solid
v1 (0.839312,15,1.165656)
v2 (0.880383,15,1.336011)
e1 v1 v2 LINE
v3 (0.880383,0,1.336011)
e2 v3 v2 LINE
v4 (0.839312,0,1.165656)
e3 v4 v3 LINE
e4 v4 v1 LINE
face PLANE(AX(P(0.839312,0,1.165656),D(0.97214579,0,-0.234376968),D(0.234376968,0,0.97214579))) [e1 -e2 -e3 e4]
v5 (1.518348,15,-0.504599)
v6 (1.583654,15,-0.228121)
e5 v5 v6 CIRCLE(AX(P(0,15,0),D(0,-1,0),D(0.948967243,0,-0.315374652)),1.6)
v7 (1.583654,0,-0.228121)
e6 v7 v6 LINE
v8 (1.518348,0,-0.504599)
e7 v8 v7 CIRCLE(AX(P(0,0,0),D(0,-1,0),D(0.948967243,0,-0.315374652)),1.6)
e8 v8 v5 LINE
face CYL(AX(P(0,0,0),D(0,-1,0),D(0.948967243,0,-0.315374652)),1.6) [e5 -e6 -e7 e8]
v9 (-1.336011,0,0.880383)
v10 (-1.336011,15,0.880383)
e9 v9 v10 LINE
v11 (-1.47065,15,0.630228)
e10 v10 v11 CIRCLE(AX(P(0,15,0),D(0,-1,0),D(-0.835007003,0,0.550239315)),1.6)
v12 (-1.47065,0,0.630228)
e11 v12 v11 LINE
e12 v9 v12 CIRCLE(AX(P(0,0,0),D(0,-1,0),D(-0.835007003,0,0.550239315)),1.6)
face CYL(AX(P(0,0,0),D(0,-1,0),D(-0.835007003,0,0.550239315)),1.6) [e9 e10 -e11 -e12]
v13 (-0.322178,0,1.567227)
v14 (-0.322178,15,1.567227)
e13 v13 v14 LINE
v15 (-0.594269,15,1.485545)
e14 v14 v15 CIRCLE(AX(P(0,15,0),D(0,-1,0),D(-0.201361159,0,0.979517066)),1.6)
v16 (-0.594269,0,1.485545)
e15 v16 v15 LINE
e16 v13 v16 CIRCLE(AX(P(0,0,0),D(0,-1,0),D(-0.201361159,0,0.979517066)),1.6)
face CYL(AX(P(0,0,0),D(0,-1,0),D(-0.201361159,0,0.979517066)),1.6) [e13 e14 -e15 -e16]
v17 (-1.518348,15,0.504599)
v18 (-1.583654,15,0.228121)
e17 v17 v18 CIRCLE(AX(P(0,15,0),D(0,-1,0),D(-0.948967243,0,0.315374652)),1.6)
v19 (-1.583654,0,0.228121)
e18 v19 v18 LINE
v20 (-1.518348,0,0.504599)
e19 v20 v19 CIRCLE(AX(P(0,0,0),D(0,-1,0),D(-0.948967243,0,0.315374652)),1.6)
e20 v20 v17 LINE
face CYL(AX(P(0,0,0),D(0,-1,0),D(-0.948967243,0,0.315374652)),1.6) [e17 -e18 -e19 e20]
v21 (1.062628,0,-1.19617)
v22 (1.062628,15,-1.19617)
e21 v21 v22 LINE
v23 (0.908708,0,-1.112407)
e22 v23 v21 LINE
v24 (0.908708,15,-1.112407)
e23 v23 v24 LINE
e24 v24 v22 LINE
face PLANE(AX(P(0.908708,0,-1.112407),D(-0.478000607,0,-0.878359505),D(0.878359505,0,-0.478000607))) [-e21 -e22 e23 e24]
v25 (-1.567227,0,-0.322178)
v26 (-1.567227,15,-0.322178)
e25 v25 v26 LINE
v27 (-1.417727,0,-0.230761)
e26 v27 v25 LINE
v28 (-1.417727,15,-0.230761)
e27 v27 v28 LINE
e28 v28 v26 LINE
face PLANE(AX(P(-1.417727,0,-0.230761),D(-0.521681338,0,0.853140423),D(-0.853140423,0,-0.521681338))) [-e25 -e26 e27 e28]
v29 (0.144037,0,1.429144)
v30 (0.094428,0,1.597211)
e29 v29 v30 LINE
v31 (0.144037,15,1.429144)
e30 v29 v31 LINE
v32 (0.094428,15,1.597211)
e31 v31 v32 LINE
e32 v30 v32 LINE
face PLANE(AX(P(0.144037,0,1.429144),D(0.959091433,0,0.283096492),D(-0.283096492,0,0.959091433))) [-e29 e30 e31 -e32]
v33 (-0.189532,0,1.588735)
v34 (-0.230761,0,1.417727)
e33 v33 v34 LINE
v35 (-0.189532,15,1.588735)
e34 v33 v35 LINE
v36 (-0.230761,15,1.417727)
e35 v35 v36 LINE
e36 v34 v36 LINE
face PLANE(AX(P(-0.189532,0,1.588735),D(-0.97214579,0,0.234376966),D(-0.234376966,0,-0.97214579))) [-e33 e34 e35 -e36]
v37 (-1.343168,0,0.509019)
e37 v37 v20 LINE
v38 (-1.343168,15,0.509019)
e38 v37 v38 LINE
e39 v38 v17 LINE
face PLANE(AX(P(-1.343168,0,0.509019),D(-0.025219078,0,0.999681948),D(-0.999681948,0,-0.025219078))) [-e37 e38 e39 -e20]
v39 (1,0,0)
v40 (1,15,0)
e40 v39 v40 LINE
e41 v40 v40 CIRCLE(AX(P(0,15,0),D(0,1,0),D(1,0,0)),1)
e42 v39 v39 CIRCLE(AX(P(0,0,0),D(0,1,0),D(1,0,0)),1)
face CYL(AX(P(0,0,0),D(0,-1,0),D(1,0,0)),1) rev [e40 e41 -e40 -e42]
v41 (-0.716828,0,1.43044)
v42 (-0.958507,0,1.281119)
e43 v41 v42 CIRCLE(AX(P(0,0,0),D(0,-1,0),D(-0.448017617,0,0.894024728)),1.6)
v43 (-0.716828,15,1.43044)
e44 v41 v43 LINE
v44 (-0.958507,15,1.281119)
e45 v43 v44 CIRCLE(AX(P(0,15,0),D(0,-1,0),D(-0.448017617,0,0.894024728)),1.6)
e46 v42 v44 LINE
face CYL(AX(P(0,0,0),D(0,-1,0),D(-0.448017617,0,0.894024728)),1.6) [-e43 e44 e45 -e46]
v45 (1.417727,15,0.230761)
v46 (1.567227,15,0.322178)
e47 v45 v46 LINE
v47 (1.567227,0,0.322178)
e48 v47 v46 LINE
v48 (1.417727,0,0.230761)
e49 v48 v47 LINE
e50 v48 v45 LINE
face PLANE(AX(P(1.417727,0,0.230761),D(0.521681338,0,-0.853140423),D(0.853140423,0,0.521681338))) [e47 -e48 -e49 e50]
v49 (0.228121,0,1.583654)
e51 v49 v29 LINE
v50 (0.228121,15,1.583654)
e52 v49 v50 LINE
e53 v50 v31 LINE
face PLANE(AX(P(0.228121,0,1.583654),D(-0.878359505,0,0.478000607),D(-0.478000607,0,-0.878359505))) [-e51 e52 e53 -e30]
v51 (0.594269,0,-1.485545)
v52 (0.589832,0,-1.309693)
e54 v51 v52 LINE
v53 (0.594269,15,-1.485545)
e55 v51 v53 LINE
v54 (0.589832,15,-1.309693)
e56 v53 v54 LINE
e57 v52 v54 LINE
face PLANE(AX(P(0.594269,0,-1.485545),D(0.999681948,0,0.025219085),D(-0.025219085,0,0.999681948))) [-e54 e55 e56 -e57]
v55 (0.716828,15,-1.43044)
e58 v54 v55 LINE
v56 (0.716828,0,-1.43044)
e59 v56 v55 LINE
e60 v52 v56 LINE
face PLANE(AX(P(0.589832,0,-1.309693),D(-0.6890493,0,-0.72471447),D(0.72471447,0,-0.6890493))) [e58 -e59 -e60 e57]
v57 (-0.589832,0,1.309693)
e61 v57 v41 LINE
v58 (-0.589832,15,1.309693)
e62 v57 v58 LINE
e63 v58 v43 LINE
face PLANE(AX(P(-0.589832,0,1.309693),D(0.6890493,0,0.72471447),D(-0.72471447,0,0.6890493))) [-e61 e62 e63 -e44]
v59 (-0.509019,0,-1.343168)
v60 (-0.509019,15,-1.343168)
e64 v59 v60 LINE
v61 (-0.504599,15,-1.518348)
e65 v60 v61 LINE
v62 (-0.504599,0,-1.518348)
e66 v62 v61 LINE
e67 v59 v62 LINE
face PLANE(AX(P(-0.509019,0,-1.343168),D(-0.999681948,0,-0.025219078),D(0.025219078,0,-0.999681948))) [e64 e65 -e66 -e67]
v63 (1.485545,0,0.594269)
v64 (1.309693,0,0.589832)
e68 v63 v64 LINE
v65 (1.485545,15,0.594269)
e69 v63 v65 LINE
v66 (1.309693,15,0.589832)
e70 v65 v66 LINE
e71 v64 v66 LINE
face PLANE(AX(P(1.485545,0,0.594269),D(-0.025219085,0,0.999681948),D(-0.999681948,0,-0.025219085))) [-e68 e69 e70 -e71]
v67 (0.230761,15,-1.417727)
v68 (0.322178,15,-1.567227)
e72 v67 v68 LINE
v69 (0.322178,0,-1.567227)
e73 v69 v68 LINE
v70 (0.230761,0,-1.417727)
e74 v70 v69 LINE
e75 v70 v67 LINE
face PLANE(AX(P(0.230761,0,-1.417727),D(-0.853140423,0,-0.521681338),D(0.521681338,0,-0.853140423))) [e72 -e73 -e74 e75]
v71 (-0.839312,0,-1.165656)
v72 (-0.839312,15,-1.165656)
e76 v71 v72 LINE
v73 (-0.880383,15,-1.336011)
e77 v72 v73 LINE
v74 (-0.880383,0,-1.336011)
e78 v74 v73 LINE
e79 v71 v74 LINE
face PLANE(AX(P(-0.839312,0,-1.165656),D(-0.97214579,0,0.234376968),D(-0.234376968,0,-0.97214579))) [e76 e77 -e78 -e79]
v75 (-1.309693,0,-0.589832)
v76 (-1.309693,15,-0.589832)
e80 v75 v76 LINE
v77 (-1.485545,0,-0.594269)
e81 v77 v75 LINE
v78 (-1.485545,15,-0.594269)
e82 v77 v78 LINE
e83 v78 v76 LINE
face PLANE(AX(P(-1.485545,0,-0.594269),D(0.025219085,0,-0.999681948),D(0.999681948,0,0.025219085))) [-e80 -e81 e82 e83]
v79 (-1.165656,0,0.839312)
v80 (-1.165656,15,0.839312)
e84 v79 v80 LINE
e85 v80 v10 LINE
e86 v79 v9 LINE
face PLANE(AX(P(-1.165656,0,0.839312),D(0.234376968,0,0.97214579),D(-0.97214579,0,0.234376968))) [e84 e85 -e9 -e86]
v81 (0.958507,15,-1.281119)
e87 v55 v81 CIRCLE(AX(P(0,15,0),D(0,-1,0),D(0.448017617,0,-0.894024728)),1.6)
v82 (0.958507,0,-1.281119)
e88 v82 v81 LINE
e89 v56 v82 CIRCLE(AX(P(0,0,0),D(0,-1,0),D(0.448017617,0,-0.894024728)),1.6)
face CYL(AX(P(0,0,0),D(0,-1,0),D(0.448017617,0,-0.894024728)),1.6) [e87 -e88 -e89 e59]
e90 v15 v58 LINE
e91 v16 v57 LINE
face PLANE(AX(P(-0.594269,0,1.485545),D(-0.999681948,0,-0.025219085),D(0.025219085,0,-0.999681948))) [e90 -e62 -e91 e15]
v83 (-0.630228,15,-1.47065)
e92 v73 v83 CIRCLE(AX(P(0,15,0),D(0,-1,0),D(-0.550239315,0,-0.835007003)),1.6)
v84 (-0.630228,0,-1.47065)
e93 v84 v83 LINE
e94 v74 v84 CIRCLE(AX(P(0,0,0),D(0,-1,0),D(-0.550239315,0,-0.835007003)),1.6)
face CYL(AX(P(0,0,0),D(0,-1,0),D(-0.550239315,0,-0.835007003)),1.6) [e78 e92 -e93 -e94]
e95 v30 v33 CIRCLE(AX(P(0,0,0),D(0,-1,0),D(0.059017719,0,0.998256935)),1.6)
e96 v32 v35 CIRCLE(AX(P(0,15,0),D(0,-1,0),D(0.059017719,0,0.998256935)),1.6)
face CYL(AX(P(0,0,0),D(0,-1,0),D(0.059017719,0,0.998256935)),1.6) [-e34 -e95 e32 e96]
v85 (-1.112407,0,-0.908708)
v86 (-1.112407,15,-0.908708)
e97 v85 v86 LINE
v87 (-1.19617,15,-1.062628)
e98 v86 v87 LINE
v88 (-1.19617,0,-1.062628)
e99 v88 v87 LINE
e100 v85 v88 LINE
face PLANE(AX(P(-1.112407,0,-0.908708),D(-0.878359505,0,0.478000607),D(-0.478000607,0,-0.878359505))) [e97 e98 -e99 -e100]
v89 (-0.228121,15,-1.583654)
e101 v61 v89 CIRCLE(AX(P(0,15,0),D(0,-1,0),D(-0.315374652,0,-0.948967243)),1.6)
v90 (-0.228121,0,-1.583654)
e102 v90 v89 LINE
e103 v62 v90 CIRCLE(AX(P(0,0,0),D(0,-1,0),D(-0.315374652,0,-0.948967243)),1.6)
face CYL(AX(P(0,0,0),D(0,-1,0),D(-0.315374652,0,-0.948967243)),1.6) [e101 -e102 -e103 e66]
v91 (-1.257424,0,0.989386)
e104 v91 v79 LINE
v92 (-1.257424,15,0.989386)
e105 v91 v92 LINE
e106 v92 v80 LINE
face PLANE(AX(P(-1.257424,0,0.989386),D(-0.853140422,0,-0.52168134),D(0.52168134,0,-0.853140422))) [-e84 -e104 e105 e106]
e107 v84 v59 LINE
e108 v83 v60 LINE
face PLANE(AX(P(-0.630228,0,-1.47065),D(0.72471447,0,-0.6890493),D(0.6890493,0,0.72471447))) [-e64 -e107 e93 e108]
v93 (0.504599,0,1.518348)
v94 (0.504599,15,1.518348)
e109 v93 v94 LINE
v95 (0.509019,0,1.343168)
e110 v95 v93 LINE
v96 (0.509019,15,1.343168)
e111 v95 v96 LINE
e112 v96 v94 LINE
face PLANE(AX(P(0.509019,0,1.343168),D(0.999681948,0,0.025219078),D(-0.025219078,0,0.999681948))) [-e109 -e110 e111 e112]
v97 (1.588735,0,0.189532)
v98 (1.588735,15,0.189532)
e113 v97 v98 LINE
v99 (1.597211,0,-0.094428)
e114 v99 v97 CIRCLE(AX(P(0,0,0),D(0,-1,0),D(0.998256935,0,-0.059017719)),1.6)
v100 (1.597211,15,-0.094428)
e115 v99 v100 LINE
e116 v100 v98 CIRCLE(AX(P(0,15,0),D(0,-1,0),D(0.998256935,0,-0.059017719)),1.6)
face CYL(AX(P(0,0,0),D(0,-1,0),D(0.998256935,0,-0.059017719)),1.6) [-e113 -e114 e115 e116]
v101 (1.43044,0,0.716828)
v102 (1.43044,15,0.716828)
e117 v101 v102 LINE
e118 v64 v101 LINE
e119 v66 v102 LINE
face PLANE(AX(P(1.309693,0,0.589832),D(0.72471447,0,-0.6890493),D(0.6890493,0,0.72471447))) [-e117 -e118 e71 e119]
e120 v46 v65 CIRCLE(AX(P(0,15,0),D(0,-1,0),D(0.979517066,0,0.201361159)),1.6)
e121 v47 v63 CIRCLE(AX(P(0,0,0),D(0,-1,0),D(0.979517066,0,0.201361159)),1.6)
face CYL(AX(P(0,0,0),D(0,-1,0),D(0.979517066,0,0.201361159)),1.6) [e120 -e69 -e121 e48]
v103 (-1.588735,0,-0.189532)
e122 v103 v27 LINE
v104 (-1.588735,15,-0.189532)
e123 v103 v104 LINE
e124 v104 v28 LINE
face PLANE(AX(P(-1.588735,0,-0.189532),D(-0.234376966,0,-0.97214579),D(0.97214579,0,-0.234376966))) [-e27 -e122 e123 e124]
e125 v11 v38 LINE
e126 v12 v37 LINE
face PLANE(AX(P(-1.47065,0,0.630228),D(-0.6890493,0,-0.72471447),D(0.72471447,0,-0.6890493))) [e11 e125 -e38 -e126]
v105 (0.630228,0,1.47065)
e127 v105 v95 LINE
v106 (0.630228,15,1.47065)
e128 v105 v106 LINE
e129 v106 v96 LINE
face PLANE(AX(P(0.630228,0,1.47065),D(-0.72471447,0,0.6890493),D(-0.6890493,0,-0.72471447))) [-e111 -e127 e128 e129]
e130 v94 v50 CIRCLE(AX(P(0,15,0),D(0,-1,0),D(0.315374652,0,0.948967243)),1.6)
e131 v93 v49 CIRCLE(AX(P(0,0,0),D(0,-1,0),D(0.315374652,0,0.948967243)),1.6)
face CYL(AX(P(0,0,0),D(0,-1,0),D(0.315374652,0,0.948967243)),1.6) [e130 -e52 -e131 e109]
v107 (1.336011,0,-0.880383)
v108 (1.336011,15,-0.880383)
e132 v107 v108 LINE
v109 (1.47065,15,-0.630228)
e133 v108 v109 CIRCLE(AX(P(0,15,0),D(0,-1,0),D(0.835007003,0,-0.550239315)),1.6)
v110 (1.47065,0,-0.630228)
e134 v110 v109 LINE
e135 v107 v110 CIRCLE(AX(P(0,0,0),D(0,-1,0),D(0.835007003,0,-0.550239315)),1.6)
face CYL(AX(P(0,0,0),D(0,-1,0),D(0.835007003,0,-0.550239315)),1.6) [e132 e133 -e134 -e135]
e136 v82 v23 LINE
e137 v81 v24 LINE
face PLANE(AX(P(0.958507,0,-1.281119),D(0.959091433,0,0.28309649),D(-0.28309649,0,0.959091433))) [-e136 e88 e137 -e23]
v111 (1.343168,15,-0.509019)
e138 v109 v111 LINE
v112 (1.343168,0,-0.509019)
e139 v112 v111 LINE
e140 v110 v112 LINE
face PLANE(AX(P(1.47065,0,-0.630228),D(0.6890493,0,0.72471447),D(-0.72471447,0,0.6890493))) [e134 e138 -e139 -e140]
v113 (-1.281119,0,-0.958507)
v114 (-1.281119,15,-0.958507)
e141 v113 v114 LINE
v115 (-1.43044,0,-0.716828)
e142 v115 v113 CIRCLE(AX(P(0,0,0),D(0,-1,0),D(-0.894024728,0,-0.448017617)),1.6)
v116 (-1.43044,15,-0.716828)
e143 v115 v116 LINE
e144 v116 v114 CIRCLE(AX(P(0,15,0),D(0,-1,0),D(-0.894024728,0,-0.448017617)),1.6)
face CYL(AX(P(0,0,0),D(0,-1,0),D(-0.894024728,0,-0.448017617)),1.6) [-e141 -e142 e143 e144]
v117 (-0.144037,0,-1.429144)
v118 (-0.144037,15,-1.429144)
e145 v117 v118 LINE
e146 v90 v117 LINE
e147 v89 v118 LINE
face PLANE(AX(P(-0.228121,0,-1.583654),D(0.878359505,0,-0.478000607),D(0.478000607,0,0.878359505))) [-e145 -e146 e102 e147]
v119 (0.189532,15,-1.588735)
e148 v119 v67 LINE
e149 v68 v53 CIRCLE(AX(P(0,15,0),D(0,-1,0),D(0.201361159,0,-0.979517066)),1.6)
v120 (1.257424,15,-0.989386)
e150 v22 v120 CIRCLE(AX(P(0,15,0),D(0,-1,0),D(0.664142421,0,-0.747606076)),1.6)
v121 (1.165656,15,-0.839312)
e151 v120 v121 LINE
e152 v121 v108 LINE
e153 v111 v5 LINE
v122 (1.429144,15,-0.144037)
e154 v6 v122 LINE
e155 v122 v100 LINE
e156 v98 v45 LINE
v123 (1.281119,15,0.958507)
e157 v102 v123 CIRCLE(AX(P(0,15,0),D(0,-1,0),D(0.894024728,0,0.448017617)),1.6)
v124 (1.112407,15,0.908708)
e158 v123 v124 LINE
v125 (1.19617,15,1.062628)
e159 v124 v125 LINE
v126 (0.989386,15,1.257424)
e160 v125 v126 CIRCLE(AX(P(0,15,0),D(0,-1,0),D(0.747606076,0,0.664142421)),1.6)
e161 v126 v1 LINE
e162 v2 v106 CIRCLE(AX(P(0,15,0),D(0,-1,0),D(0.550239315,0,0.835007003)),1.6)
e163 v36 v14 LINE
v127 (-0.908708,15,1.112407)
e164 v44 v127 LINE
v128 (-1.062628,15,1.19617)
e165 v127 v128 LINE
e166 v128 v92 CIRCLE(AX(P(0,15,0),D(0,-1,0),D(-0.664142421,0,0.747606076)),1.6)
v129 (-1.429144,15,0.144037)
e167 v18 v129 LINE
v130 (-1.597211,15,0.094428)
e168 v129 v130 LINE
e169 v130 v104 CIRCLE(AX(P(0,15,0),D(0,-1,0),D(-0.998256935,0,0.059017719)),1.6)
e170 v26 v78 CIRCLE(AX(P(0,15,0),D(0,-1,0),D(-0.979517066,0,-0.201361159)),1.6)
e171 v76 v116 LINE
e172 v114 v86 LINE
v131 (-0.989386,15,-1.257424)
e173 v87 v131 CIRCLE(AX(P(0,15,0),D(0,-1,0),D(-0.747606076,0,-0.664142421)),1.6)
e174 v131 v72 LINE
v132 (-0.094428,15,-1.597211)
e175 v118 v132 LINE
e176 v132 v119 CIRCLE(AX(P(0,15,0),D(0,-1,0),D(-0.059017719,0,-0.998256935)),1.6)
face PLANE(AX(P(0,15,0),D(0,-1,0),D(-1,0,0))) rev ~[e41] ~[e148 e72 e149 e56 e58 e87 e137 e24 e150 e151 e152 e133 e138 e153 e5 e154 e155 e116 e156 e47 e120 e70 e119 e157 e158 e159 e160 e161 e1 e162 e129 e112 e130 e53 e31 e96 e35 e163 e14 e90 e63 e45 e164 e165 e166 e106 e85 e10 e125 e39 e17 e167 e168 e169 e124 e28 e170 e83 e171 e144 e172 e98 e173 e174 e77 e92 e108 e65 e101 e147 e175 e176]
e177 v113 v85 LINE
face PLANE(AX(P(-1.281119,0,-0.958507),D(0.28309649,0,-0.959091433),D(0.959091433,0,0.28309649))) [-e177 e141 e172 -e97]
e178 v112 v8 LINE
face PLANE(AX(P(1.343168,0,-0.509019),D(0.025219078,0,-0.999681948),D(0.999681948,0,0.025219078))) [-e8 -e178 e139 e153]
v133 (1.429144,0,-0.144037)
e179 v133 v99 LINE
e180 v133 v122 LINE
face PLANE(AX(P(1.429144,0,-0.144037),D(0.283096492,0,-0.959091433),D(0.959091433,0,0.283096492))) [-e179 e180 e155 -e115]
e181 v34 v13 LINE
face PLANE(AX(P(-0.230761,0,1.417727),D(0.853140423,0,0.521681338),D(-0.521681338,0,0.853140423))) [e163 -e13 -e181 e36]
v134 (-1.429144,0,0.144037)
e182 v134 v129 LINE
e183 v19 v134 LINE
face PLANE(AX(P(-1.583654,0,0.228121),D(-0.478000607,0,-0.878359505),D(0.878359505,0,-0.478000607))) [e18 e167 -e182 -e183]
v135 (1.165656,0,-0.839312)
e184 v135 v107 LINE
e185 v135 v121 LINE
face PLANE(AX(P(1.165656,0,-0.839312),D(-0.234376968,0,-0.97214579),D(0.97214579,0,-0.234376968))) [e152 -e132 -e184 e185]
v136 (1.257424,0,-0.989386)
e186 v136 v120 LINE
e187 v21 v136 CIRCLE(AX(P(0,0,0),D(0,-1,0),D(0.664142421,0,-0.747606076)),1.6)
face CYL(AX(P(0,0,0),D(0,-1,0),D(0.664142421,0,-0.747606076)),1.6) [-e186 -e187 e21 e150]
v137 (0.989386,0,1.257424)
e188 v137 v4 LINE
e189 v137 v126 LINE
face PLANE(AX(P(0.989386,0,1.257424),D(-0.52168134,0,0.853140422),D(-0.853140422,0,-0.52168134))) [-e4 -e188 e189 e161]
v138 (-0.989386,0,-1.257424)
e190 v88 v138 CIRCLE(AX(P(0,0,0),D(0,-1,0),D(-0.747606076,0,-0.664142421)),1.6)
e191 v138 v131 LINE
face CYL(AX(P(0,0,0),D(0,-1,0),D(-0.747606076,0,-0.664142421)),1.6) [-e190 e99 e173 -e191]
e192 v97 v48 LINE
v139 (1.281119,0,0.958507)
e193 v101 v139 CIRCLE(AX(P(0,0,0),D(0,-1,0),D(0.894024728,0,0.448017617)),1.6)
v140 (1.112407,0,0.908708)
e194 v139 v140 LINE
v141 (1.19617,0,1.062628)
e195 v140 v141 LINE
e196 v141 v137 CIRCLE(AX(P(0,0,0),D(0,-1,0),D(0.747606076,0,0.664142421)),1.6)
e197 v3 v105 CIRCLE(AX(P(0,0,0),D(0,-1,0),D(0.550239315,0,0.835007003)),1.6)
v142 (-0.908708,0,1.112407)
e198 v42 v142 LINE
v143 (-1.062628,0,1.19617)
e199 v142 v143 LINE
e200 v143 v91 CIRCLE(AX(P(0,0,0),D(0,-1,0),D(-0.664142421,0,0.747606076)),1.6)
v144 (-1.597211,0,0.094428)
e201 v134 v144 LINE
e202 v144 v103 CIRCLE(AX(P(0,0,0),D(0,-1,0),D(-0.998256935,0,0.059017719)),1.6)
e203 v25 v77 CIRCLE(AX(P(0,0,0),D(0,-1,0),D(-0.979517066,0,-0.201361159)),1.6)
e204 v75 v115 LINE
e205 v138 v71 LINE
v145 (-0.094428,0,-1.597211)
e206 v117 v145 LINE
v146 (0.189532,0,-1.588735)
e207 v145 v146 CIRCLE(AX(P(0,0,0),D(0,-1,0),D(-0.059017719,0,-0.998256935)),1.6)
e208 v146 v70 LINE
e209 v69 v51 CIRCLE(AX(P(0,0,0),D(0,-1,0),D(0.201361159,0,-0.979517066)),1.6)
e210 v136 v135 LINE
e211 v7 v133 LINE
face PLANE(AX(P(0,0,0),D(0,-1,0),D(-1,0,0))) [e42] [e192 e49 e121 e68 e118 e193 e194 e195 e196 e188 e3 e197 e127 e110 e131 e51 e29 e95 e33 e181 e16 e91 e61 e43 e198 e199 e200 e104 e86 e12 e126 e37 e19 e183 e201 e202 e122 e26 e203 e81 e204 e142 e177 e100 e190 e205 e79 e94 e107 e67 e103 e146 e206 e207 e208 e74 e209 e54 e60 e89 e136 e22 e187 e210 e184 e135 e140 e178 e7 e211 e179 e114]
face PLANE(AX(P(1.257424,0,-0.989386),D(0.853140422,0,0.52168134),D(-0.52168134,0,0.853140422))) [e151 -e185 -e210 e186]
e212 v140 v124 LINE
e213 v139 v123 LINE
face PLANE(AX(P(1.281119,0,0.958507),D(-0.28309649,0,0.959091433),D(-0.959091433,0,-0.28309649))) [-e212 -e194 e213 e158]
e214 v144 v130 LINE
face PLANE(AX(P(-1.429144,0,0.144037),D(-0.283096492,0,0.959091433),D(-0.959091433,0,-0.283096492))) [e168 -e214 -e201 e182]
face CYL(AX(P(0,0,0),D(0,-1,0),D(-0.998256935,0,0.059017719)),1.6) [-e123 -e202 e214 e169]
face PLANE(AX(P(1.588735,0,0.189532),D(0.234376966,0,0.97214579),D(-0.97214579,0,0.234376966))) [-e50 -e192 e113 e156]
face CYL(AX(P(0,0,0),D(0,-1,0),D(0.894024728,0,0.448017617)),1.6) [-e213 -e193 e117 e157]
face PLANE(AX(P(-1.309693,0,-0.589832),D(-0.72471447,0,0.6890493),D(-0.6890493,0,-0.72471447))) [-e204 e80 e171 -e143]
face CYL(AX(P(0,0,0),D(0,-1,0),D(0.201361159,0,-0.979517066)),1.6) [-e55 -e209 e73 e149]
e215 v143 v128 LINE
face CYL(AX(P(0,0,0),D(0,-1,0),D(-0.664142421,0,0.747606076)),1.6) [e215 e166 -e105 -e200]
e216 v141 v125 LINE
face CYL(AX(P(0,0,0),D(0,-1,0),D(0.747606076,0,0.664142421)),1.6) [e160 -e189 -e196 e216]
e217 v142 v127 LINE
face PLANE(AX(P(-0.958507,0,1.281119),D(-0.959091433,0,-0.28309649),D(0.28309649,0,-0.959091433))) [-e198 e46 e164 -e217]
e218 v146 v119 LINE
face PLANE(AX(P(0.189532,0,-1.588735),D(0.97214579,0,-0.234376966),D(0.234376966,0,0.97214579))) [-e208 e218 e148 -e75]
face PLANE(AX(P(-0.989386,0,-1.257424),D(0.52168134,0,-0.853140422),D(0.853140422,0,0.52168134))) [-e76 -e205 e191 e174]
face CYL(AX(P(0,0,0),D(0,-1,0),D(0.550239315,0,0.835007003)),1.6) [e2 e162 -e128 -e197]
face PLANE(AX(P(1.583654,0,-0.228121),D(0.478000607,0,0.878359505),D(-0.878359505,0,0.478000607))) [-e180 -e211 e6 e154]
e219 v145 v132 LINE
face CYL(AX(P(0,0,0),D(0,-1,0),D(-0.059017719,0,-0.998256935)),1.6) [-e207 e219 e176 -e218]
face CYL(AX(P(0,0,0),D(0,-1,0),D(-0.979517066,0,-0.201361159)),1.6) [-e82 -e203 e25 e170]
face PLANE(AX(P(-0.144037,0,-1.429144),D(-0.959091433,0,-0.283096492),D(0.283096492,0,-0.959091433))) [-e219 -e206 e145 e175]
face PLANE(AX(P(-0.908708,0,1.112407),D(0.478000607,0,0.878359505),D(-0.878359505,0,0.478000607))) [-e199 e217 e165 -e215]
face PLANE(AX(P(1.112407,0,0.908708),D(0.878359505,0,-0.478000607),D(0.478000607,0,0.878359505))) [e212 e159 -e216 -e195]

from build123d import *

# Parameters (mm, degrees)
SKETCH_1_R      = 1
EXTRUDE_1_DEPTH = 15


with BuildPart() as part:
    # 草图1 → 凸台-拉伸1 (new body)
    with BuildSketch(Plane(origin=(0, 0, 0), x_dir=(1, 0, 0), z_dir=(0, 1, 0))):
        with BuildLine():
            Line((-0.228121034, 1.583654253), (-0.144036994, 1.429143956))
            Line((-0.144036994, 1.429143956), (-0.094428358, 1.597211096))
            ThreePointArc((-0.094428358, 1.597211096), (0.047740264, 1.599287612), (0.189531883, 1.588734611))
            Line((0.189531883, 1.588734611), (0.230760622, 1.417726573))
            Line((0.230760622, 1.417726573), (0.322177861, 1.567227305))
            ThreePointArc((0.322177861, 1.567227305), (0.460039647, 1.532437119), (0.594268516, 1.485545331))
            Line((0.594268516, 1.485545331), (0.589832282, 1.309693468))
            Line((0.589832282, 1.309693468), (0.716828191, 1.430439563))
            ThreePointArc((0.716828191, 1.430439563), (0.840988088, 1.361153568), (0.958506731, 1.281118592))
            Line((0.958506731, 1.281118592), (0.908707847, 1.112406917))
            Line((0.908707847, 1.112406917), (1.062627865, 1.196169729))
            ThreePointArc((1.062627865, 1.196169729), (1.16462458, 1.097109651), (1.257424297, 0.989385738))
            Line((1.257424297, 0.989385738), (1.165656474, 0.839311673))
            Line((1.165656474, 0.839311673), (1.336011205, 0.880382905))
            ThreePointArc((1.336011205, 0.880382905), (1.408893832, 0.758299525), (1.470650475, 0.63022788))
            Line((1.470650475, 0.63022788), (1.343167539, 0.509018726))
            Line((1.343167539, 0.509018726), (1.51834759, 0.504599441))
            ThreePointArc((1.51834759, 0.504599441), (1.557149298, 0.367812539), (1.583654253, 0.228121034))
            Line((1.583654253, 0.228121034), (1.429143956, 0.144036994))
            Line((1.429143956, 0.144036994), (1.597211096, 0.094428358))
            ThreePointArc((1.597211096, 0.094428358), (1.599287612, -0.047740264), (1.588734611, -0.189531883))
            Line((1.588734611, -0.189531883), (1.417726573, -0.230760622))
            Line((1.417726573, -0.230760622), (1.567227305, -0.322177861))
            ThreePointArc((1.567227305, -0.322177861), (1.532437119, -0.460039647), (1.485545331, -0.594268516))
            Line((1.485545331, -0.594268516), (1.309693468, -0.589832282))
            Line((1.309693468, -0.589832282), (1.430439563, -0.716828191))
            ThreePointArc((1.430439563, -0.716828191), (1.361153568, -0.840988088), (1.281118592, -0.958506731))
            Line((1.281118592, -0.958506731), (1.112406917, -0.908707847))
            Line((1.112406917, -0.908707847), (1.196169729, -1.062627865))
            ThreePointArc((1.196169729, -1.062627865), (1.097109651, -1.16462458), (0.989385738, -1.257424297))
            Line((0.989385738, -1.257424297), (0.839311673, -1.165656474))
            Line((0.839311673, -1.165656474), (0.880382905, -1.336011205))
            ThreePointArc((0.880382905, -1.336011205), (0.758299525, -1.408893832), (0.63022788, -1.470650475))
            Line((0.63022788, -1.470650475), (0.509018726, -1.343167539))
            Line((0.509018726, -1.343167539), (0.504599441, -1.51834759))
            ThreePointArc((0.504599441, -1.51834759), (0.367812539, -1.557149298), (0.228121034, -1.583654253))
            Line((0.228121034, -1.583654253), (0.144036994, -1.429143956))
            Line((0.144036994, -1.429143956), (0.094428358, -1.597211096))
            ThreePointArc((0.094428358, -1.597211096), (-0.047740264, -1.599287612), (-0.189531883, -1.588734611))
            Line((-0.189531883, -1.588734611), (-0.230760622, -1.417726573))
            Line((-0.230760622, -1.417726573), (-0.322177861, -1.567227305))
            ThreePointArc((-0.322177861, -1.567227305), (-0.460039647, -1.532437119), (-0.594268516, -1.485545331))
            Line((-0.594268516, -1.485545331), (-0.589832282, -1.309693468))
            Line((-0.589832282, -1.309693468), (-0.716828191, -1.430439563))
            ThreePointArc((-0.716828191, -1.430439563), (-0.840988088, -1.361153568), (-0.958506731, -1.281118592))
            Line((-0.958506731, -1.281118592), (-0.908707847, -1.112406917))
            Line((-0.908707847, -1.112406917), (-1.062627865, -1.196169729))
            ThreePointArc((-1.062627865, -1.196169729), (-1.16462458, -1.097109651), (-1.257424297, -0.989385738))
            Line((-1.257424297, -0.989385738), (-1.165656474, -0.839311673))
            Line((-1.165656474, -0.839311673), (-1.336011205, -0.880382905))
            ThreePointArc((-1.336011205, -0.880382905), (-1.408893832, -0.758299525), (-1.470650475, -0.63022788))
            Line((-1.470650475, -0.63022788), (-1.343167539, -0.509018726))
            Line((-1.343167539, -0.509018726), (-1.51834759, -0.504599441))
            ThreePointArc((-1.51834759, -0.504599441), (-1.557149298, -0.367812539), (-1.583654253, -0.228121034))
            Line((-1.583654253, -0.228121034), (-1.429143956, -0.144036994))
            Line((-1.429143956, -0.144036994), (-1.597211096, -0.094428358))
            ThreePointArc((-1.597211096, -0.094428358), (-1.599287612, 0.047740264), (-1.588734611, 0.189531883))
            Line((-1.588734611, 0.189531883), (-1.417726573, 0.230760622))
            Line((-1.417726573, 0.230760622), (-1.567227305, 0.322177861))
            ThreePointArc((-1.567227305, 0.322177861), (-1.532437119, 0.460039647), (-1.485545331, 0.594268516))
            Line((-1.485545331, 0.594268516), (-1.309693468, 0.589832282))
            Line((-1.309693468, 0.589832282), (-1.430439563, 0.716828191))
            ThreePointArc((-1.430439563, 0.716828191), (-1.361153568, 0.840988088), (-1.281118592, 0.958506731))
            Line((-1.281118592, 0.958506731), (-1.112406917, 0.908707847))
            Line((-1.112406917, 0.908707847), (-1.196169729, 1.062627865))
            ThreePointArc((-1.196169729, 1.062627865), (-1.097109651, 1.16462458), (-0.989385738, 1.257424297))
            Line((-0.989385738, 1.257424297), (-0.839311673, 1.165656474))
            Line((-0.839311673, 1.165656474), (-0.880382905, 1.336011205))
            ThreePointArc((-0.880382905, 1.336011205), (-0.758299525, 1.408893832), (-0.63022788, 1.470650475))
            Line((-0.63022788, 1.470650475), (-0.509018726, 1.343167539))
            Line((-0.509018726, 1.343167539), (-0.504599441, 1.51834759))
            ThreePointArc((-0.504599441, 1.51834759), (-0.367812539, 1.557149298), (-0.228121034, 1.583654253))
        make_face()
        Circle(SKETCH_1_R, mode=Mode.SUBTRACT)
    extrude(amount=EXTRUDE_1_DEPTH)


solid = part.part
